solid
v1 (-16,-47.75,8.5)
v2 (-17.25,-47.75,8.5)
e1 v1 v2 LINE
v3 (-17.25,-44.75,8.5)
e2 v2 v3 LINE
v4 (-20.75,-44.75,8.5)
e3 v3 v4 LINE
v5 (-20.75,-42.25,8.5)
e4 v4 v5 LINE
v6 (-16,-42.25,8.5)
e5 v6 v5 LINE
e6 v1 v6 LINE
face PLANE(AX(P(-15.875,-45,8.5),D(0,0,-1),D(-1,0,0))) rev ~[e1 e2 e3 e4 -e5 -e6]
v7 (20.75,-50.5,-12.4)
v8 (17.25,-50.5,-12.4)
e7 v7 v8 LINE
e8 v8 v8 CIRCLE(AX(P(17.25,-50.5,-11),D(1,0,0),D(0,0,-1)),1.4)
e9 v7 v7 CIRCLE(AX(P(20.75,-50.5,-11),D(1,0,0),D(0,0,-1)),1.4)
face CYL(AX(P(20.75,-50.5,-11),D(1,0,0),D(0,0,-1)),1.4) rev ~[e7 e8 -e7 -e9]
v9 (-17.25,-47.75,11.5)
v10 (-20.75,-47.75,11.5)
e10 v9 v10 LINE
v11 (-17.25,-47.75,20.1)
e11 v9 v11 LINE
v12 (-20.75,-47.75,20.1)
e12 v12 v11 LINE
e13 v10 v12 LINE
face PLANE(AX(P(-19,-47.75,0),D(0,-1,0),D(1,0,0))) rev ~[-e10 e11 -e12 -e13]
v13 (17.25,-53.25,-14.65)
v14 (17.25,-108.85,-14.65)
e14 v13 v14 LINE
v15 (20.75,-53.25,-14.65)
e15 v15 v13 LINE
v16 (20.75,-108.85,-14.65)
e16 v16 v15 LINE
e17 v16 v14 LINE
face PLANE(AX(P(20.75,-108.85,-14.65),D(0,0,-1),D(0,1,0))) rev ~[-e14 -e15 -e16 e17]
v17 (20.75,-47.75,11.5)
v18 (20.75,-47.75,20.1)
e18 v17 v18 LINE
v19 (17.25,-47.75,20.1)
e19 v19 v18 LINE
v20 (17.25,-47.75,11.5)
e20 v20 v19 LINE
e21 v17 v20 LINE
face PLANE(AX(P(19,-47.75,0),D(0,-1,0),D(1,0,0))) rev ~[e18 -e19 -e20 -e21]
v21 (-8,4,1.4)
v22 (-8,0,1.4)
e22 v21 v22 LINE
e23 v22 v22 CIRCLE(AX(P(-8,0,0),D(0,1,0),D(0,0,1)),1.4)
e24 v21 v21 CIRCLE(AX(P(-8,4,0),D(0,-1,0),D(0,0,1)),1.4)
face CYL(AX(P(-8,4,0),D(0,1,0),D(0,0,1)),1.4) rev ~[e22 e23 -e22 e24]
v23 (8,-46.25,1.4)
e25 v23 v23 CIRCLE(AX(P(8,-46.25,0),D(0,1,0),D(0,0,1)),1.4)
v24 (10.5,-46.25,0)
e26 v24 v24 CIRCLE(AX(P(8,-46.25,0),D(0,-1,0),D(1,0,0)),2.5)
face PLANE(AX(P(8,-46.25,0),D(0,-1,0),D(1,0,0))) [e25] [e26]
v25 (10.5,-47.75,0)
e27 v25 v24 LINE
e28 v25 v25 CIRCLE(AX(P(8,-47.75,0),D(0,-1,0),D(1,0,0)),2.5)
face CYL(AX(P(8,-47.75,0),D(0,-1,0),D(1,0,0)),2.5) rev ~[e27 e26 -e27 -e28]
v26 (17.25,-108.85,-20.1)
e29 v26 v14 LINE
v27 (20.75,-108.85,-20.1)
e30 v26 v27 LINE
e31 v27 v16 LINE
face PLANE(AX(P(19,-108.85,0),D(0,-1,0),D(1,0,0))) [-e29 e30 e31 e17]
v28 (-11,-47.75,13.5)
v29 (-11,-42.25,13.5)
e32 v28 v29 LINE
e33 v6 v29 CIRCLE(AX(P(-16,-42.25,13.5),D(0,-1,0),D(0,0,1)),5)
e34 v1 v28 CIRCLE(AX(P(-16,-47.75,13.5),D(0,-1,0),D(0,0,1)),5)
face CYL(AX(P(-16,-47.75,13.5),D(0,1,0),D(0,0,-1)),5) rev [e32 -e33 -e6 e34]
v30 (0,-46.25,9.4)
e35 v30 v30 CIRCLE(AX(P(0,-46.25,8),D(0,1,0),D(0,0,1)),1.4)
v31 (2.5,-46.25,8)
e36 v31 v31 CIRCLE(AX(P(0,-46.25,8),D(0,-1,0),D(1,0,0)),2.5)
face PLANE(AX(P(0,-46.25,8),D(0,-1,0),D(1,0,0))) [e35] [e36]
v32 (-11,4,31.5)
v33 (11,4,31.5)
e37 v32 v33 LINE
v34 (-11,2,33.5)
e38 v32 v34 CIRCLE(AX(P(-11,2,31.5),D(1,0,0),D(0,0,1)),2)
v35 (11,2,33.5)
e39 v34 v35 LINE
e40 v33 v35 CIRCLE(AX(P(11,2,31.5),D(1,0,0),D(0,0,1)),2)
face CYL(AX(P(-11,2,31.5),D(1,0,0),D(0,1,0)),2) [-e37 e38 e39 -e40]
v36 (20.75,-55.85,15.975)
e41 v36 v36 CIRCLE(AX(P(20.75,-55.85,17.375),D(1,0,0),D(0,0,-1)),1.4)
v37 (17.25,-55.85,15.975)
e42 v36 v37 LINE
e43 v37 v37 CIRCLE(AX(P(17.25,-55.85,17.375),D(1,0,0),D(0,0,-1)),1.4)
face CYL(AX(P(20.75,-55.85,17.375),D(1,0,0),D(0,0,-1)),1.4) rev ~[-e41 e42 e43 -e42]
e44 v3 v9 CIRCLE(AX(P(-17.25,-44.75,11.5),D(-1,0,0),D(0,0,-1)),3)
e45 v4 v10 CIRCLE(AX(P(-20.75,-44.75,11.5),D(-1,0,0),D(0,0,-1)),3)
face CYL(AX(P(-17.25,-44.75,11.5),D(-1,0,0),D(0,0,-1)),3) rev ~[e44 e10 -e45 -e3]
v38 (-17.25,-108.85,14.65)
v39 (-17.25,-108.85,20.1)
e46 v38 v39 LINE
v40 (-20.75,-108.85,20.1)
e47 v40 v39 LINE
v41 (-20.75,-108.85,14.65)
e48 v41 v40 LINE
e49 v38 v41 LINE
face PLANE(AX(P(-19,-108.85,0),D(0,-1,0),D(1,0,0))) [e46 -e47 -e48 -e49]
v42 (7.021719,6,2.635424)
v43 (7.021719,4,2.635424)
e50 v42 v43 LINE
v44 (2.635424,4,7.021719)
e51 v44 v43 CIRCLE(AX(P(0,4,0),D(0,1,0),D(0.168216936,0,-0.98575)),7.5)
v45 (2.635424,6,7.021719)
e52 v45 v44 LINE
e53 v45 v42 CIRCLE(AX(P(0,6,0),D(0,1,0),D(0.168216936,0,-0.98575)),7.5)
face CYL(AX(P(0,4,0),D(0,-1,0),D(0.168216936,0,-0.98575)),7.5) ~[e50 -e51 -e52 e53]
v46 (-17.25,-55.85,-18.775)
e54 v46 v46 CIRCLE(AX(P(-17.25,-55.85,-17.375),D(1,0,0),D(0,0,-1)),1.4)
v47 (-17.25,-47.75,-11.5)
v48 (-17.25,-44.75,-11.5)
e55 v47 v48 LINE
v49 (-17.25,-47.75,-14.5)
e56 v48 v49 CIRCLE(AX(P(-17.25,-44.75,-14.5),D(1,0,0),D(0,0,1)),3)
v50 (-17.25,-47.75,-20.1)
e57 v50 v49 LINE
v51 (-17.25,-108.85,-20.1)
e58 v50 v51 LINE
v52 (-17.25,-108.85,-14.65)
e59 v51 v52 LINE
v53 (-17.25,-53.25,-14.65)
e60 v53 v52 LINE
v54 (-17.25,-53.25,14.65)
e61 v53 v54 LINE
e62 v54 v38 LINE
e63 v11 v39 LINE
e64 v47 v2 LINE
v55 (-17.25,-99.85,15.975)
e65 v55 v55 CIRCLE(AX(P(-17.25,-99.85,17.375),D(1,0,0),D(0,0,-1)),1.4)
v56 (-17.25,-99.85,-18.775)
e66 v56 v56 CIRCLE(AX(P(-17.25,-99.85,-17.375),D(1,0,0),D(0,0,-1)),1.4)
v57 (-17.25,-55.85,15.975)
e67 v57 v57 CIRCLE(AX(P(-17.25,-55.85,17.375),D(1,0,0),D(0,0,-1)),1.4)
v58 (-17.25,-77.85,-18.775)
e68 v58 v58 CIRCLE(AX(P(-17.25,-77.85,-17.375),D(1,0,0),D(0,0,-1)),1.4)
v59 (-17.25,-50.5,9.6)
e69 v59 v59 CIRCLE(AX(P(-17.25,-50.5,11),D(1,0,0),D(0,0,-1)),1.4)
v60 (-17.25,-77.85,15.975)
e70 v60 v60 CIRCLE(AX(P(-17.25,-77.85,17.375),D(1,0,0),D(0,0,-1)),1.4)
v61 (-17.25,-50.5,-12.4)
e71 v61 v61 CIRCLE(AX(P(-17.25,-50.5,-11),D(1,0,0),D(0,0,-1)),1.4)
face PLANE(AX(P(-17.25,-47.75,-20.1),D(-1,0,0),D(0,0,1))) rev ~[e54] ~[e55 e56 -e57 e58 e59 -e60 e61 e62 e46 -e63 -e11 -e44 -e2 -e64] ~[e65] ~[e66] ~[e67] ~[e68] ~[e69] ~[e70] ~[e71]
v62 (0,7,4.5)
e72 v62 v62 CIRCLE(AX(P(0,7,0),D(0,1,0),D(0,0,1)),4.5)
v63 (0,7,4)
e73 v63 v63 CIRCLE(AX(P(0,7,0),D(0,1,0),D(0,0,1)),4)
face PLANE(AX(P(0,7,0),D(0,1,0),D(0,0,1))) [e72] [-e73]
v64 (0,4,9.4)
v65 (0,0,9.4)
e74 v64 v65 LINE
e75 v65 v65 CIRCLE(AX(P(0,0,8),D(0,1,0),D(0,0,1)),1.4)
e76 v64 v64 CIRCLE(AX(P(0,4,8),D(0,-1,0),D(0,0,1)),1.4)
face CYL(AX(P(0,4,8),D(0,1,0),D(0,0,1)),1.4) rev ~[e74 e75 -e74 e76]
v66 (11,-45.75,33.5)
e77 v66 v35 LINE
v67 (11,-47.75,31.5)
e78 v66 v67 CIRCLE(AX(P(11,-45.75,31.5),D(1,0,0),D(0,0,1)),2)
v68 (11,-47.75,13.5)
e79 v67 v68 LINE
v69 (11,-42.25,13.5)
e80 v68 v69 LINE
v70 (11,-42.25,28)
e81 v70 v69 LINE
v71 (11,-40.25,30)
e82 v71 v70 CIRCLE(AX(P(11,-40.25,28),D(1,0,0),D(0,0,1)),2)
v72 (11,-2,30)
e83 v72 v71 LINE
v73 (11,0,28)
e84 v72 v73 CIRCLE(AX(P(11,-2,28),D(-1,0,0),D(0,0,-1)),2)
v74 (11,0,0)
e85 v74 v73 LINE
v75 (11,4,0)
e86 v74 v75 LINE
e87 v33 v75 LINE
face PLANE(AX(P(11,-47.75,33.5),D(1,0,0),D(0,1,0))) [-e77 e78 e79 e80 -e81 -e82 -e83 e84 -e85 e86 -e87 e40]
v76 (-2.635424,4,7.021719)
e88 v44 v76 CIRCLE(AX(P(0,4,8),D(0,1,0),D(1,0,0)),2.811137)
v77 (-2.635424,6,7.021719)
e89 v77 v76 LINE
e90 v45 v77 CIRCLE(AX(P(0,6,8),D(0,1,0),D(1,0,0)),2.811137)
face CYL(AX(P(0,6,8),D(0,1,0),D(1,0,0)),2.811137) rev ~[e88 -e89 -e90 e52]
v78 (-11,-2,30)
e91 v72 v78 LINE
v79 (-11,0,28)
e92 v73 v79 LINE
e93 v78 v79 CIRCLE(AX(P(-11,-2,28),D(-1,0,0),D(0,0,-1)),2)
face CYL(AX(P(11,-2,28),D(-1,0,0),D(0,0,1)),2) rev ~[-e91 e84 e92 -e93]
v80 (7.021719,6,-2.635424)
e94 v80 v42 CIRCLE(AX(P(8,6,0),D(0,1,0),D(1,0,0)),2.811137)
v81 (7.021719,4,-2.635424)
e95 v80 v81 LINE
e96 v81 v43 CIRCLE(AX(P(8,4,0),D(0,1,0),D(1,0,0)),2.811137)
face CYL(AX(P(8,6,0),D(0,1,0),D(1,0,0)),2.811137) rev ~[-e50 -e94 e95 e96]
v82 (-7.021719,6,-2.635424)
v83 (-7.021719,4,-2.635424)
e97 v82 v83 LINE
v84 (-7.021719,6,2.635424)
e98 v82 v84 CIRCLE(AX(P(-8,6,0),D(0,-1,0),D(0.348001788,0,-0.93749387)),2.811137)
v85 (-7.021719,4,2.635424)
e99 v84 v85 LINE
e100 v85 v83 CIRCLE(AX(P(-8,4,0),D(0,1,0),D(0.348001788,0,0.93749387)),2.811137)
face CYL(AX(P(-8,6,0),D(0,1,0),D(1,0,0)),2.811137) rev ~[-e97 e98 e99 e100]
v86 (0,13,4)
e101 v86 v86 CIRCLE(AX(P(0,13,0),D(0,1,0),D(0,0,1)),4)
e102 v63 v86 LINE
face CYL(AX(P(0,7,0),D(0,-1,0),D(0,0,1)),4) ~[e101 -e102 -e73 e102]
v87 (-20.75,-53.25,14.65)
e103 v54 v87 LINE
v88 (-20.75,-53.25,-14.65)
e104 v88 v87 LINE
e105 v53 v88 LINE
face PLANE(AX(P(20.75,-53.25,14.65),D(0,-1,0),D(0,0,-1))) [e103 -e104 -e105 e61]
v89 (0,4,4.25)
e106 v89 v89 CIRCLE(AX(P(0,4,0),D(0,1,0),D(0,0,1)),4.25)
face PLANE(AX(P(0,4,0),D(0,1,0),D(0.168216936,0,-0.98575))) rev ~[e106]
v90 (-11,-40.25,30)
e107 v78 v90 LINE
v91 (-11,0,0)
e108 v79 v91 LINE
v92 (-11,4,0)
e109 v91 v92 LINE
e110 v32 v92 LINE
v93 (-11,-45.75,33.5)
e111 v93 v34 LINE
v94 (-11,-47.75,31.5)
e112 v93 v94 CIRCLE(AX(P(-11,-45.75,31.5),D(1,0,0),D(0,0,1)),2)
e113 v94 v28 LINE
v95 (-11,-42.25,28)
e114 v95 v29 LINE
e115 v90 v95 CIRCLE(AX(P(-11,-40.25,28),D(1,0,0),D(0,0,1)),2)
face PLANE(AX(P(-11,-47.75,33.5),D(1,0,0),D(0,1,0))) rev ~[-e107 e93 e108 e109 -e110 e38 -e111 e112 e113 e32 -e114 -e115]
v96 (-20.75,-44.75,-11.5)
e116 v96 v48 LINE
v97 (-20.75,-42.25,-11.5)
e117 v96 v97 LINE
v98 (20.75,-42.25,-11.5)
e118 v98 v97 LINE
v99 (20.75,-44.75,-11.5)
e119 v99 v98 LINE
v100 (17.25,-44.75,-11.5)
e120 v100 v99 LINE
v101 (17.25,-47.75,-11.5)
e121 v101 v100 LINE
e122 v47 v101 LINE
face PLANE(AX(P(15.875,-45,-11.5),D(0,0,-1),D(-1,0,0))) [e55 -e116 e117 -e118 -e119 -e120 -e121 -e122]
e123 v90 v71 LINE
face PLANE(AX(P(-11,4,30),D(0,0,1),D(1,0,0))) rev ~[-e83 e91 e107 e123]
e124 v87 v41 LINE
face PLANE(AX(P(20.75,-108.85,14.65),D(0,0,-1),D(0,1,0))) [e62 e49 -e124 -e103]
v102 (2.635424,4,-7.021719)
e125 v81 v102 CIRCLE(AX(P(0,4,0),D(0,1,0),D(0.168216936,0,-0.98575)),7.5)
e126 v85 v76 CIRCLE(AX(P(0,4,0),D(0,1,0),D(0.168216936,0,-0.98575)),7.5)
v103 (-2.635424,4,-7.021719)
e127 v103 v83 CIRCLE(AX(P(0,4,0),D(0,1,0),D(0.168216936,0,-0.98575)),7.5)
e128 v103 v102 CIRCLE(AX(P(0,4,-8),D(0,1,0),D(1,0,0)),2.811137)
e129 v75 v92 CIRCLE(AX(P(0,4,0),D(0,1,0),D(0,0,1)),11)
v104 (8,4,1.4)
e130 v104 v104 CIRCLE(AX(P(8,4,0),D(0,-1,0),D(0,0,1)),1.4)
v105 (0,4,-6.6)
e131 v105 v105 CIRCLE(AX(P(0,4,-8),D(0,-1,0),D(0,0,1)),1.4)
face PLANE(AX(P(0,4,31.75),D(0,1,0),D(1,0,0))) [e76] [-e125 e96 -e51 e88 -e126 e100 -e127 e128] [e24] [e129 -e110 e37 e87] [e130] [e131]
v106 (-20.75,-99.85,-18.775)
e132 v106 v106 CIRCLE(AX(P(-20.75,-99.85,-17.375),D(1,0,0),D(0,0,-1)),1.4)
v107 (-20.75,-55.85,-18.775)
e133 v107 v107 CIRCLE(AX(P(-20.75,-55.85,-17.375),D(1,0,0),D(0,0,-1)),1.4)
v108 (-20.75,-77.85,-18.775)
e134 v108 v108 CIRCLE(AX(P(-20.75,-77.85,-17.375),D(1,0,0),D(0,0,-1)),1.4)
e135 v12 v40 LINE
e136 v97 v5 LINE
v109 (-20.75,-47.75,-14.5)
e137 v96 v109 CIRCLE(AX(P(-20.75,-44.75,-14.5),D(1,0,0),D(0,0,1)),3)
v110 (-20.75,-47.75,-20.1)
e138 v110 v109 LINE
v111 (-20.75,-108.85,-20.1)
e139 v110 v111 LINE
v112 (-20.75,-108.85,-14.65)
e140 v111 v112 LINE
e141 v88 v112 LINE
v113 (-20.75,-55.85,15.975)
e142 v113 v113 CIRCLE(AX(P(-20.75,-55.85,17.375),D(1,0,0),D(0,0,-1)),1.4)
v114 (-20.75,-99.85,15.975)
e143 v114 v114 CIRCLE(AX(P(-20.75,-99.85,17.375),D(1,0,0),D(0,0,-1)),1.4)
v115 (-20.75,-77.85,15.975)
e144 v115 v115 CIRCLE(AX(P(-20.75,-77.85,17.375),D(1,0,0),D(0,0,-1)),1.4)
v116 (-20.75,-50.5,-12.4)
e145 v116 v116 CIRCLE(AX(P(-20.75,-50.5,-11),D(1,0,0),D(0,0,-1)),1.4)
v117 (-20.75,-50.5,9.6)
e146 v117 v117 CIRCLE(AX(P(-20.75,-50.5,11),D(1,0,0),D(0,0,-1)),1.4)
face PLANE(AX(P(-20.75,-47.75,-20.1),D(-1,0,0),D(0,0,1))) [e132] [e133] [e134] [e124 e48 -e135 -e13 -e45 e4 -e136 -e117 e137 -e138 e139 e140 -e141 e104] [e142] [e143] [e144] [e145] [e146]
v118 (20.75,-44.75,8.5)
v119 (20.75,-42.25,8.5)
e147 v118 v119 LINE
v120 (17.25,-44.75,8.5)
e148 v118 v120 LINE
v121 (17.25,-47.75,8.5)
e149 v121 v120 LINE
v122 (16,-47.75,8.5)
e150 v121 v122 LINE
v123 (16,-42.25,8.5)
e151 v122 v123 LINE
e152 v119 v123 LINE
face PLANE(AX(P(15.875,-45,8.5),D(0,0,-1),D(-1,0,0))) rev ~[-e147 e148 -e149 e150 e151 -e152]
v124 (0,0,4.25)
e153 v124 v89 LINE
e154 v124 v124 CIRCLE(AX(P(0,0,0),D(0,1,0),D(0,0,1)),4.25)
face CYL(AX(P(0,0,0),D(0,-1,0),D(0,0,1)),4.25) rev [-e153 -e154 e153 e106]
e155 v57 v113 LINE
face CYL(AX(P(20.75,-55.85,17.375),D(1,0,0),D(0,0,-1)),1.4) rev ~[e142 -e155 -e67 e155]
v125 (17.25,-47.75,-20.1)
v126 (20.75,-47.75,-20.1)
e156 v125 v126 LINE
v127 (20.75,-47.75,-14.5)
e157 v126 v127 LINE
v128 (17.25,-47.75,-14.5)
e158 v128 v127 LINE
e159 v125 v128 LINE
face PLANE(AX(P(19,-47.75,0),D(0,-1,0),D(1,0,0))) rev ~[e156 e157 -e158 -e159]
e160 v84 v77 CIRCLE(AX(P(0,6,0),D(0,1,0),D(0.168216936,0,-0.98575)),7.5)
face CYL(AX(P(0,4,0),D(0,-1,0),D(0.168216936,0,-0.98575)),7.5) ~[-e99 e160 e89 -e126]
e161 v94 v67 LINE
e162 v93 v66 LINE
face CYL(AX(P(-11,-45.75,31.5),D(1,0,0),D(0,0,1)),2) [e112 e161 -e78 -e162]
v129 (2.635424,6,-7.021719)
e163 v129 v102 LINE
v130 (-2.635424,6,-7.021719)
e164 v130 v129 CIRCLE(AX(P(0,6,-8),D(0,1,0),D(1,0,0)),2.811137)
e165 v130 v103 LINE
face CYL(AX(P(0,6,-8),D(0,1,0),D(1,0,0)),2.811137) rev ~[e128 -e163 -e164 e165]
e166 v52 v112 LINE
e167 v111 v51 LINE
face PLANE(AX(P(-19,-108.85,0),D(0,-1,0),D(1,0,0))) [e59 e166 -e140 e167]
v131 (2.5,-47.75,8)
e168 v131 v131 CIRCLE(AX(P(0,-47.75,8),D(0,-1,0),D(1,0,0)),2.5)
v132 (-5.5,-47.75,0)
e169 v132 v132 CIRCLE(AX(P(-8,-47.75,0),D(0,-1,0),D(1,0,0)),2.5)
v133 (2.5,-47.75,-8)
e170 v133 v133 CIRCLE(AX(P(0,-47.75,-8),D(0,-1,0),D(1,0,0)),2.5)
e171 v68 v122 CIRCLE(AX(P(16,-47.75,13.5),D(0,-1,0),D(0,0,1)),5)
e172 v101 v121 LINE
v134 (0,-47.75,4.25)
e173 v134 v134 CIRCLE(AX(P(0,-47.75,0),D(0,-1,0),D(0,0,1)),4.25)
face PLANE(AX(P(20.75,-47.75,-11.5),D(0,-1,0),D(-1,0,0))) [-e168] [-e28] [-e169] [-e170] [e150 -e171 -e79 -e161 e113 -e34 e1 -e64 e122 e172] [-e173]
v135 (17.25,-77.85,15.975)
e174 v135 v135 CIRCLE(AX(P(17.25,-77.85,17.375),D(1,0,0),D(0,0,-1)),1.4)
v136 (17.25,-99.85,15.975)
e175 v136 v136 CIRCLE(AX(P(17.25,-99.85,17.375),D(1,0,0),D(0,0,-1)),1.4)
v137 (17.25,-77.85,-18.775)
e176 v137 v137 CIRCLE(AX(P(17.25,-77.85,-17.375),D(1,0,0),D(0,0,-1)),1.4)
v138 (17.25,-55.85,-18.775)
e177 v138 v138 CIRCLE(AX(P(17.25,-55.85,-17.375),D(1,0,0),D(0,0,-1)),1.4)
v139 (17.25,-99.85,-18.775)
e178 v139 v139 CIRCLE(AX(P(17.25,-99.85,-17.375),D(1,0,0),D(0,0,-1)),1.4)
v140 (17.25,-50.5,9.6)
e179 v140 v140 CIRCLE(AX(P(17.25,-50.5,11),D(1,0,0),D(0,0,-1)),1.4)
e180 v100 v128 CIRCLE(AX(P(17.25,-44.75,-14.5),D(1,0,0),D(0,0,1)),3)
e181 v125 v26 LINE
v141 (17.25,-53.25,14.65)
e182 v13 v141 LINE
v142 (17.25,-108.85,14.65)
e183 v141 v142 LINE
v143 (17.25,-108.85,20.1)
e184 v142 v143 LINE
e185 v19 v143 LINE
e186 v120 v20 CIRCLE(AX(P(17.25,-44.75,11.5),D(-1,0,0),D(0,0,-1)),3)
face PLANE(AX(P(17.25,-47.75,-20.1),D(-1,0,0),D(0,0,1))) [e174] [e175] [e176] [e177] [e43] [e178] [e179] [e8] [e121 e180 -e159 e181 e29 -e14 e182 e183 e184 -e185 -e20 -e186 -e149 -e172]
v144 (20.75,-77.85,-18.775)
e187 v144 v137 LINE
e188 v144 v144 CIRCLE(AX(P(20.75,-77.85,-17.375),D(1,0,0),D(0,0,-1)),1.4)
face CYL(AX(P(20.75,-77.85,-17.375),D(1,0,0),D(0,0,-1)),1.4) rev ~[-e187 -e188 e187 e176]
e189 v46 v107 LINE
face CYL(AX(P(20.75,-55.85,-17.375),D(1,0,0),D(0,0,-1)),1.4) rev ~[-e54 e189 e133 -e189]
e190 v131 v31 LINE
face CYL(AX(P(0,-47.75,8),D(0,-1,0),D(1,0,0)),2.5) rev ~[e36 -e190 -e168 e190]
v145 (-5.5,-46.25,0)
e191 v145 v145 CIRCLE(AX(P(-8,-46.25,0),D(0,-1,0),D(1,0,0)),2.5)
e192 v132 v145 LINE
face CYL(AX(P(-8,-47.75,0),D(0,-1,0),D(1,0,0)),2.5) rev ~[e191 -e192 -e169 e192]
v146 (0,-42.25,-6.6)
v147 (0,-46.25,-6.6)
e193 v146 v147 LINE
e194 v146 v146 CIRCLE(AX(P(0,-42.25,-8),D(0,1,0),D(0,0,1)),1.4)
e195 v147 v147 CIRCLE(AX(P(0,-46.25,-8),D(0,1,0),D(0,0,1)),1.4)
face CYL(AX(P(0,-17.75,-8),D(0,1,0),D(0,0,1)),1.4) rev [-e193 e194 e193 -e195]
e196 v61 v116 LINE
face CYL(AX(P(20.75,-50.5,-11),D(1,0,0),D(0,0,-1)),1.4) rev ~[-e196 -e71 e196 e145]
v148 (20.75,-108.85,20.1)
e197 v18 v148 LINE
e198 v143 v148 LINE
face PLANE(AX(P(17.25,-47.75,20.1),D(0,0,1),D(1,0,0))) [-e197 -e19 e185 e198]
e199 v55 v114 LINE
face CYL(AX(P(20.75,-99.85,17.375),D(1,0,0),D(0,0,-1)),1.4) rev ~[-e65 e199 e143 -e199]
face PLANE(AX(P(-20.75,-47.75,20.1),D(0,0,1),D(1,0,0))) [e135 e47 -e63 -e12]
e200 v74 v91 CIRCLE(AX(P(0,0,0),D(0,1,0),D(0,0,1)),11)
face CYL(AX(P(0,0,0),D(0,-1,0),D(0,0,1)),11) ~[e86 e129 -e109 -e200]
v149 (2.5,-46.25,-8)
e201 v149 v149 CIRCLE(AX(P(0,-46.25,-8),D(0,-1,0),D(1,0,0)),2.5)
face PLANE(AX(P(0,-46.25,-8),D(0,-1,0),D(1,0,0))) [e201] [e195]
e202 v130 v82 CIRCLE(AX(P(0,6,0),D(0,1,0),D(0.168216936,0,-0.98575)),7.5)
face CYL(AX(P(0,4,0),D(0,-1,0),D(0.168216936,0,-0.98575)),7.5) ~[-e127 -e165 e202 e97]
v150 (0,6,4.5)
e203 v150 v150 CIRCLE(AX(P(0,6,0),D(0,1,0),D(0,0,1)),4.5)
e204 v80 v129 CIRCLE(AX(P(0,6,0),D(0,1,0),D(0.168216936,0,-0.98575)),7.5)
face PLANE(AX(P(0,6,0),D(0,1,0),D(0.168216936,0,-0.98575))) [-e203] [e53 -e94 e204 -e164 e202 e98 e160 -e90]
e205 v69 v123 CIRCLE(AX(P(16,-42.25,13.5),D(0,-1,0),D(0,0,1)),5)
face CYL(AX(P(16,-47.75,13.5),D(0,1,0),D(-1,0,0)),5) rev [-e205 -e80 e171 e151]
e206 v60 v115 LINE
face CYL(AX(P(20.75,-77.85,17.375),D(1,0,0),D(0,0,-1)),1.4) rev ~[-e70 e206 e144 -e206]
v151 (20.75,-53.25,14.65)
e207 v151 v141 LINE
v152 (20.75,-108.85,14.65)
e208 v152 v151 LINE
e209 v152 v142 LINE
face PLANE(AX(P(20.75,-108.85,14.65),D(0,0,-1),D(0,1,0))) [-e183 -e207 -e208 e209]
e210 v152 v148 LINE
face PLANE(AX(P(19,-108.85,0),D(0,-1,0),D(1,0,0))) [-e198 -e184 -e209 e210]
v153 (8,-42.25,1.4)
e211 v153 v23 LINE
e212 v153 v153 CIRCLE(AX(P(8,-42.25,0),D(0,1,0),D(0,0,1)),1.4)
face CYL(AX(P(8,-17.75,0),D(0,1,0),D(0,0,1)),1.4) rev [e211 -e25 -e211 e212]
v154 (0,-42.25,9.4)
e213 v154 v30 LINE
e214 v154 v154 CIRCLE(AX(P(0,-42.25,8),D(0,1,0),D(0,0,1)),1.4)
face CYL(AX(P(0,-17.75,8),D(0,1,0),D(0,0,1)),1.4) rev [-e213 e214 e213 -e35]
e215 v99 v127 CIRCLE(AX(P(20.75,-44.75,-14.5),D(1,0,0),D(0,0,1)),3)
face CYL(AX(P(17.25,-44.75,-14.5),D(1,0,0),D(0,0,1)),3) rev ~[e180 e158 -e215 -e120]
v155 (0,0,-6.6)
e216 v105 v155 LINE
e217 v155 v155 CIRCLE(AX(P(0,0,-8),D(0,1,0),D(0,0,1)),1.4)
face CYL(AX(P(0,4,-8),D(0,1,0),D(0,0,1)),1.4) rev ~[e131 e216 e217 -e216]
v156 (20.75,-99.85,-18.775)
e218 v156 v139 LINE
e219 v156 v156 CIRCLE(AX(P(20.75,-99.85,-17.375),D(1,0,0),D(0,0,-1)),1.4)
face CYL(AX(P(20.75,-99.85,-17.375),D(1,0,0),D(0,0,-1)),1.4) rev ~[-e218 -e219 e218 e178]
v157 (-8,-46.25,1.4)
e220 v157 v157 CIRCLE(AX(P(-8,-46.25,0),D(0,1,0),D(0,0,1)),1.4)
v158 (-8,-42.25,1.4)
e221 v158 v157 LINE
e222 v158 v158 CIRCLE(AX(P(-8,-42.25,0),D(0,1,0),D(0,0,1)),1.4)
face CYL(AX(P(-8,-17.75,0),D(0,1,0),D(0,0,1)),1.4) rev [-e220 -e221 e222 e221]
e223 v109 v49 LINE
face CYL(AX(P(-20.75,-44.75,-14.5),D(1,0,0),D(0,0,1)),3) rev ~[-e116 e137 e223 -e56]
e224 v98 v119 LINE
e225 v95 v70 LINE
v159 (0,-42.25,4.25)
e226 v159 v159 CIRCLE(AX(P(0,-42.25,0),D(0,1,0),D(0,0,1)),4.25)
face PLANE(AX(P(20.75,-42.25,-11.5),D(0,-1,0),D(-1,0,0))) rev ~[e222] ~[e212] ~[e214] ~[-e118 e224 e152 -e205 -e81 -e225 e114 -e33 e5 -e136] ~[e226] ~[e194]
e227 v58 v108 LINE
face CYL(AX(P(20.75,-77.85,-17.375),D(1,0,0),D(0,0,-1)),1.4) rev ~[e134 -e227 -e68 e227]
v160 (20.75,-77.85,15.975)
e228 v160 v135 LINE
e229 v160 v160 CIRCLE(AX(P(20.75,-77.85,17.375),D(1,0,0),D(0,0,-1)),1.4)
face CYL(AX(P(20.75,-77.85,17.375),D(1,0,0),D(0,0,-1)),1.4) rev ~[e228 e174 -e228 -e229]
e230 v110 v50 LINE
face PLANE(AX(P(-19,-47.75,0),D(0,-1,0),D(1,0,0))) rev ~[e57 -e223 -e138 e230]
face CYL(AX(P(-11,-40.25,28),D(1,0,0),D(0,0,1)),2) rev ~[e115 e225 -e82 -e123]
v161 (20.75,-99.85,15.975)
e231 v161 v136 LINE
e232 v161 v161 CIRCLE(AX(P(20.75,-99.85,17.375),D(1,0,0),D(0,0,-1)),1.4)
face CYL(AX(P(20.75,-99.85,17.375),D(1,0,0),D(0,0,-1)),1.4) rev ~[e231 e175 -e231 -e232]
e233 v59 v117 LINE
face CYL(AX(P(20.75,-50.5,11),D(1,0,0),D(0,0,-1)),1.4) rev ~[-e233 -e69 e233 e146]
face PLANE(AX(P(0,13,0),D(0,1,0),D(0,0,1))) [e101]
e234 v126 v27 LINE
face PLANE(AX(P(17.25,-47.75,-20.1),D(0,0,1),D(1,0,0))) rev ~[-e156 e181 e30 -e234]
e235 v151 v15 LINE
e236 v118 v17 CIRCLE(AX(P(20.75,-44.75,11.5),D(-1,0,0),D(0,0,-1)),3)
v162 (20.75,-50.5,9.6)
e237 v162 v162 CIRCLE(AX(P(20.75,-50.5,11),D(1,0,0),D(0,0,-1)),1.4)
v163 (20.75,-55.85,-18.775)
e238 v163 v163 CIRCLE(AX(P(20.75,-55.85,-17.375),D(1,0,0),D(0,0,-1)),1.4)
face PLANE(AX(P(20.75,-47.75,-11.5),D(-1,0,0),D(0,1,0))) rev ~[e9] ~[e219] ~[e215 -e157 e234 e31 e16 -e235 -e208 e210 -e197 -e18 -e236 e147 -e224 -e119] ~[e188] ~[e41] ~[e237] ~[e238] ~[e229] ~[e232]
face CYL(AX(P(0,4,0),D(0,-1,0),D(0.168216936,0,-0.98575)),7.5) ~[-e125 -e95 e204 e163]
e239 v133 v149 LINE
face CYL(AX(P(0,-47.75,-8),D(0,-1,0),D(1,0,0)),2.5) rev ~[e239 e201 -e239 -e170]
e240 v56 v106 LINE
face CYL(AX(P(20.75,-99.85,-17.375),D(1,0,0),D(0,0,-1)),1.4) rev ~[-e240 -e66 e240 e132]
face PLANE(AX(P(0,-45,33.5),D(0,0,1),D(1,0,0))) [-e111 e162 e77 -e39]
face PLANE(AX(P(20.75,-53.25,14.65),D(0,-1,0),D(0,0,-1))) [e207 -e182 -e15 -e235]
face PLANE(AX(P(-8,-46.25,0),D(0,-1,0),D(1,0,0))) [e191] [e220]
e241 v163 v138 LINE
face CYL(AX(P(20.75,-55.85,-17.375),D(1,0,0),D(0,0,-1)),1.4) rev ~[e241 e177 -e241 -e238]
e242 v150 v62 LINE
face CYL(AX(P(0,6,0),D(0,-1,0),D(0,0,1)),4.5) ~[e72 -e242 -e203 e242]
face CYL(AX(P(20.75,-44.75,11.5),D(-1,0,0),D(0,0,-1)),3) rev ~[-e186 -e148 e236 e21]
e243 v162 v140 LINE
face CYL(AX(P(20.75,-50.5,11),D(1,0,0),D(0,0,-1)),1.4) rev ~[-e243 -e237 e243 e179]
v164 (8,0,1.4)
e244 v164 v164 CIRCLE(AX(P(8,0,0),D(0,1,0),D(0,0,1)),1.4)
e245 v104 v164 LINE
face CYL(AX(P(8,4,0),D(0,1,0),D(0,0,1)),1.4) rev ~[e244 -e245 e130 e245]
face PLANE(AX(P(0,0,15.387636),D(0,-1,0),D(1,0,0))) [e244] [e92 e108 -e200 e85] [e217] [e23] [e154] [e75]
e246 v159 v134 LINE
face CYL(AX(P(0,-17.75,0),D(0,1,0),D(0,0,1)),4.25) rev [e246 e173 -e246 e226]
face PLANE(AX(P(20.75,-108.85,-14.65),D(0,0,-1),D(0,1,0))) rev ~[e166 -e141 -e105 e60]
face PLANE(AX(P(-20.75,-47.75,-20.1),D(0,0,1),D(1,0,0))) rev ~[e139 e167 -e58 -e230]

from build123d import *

# Parameters (mm, degrees)
SKETCH1_R           = 11
SKETCH1_R_2         = 4.25
BOSS_EXTRUDE1_DEPTH = 4
SKETCH2_R           = 1.4
CUT_EXTRUDE1_DEPTH  = 17.062378404
SKETCH3_R           = 7.5
BOSS_EXTRUDE2_DEPTH = 2
SKETCH4_R           = 2.811136831
CUT_EXTRUDE2_DEPTH  = 2
SKETCH5_R           = 4.5
BOSS_EXTRUDE3_DEPTH = 7
CUT_EXTRUDE3_START  = -6
SKETCH6_R           = 4.5
SKETCH6_R_2         = 4
CUT_EXTRUDE3_DEPTH  = 6
BOSS_EXTRUDE4_DEPTH = 4
SKETCH13_W          = 22
SKETCH13_H          = 3.5
BOSS_EXTRUDE5_DEPTH = 46.25
SKETCH14_W          = 22
SKETCH14_H          = 5.5
BOSS_EXTRUDE6_DEPTH = 45
CUT_EXTRUDE6_START  = -30
SKETCH16_R          = 4.25
SKETCH16_R_2        = 1.4
CUT_EXTRUDE6_DEPTH  = 30
SKETCH17_W          = 9.75
SKETCH17_H          = 5.5
BOSS_EXTRUDE7_DEPTH = 20
FILLET3_R           = 2
SKETCH19_R          = 2.5
CUT_EXTRUDE8_DEPTH  = 1.5
SKETCH21_W          = 3.5
SKETCH21_H          = 40.2
BOSS_EXTRUDE8_DEPTH = 61.1
SKETCH22_R          = 1.4
SKETCH22_W          = 29.3
SKETCH22_H          = 55.6
CUT_EXTRUDE10_DEPTH = 61.1
FILLET4_R           = 5
FILLET5_R           = 3


with BuildPart() as part:
    # Sketch1 → Boss-Extrude1 (new body)
    with BuildSketch(Plane(origin=(0, 0, 0), x_dir=(1, 0, 0), z_dir=(0, 1, 0))):
        with Locations(Location((0, 0, 0), (0, 0, 270))):
            Circle(SKETCH1_R)
        with Locations(Location((0, 0, 0), (0, 0, 270))):
            Circle(SKETCH1_R_2, mode=Mode.SUBTRACT)
    extrude(amount=BOSS_EXTRUDE1_DEPTH)

    # Sketch2 → Cut-Extrude1 (cut, through all)
    with BuildSketch(Plane(origin=(0, 4, 0), x_dir=(1, 0, 0), z_dir=(0, 1, 0))):
        with Locations(Location((0, 8, 0), (0, 0, 270))):
            Circle(SKETCH2_R)
        with Locations(Location((8, 0, 0), (0, 0, 270))):
            Circle(SKETCH2_R)
        with Locations(Location((0, -8, 0), (0, 0, 270))):
            Circle(SKETCH2_R)
        with Locations(Location((-8, 0, 0), (0, 0, 270))):
            Circle(SKETCH2_R)
    extrude(amount=-CUT_EXTRUDE1_DEPTH, mode=Mode.SUBTRACT)

    # Sketch3 → Boss-Extrude2 (add)
    with BuildSketch(Plane(origin=(0, 4, 0), x_dir=(1, 0, 0), z_dir=(0, 1, 0))):
        with Locations(Location((0, 0, 0), (0, 0, 80.315835906))):
            Circle(SKETCH3_R)
    extrude(amount=BOSS_EXTRUDE2_DEPTH)

    # Sketch4 → Cut-Extrude2 (cut)
    with BuildSketch(Plane(origin=(0, 6, 0), x_dir=(1, 0, 0), z_dir=(0, 1, 0))):
        with Locations((8, 0)):
            Circle(SKETCH4_R)
        with Locations((0, -8)):
            Circle(SKETCH4_R)
        with Locations((-8, 0)):
            Circle(SKETCH4_R)
        with Locations((0, 8)):
            Circle(SKETCH4_R)
    extrude(amount=-CUT_EXTRUDE2_DEPTH, mode=Mode.SUBTRACT)

    # Sketch5 → Boss-Extrude3 (add)
    with BuildSketch(Plane(origin=(0, 6, 0), x_dir=(1, 0, 0), z_dir=(0, 1, 0))):
        with Locations(Location((0, 0, 0), (0, 0, 270))):
            Circle(SKETCH5_R)
    extrude(amount=BOSS_EXTRUDE3_DEPTH)

    # Sketch6 → Cut-Extrude3 (cut)
    with BuildSketch(Plane(origin=(0, 13, 0), x_dir=(1, 0, 0), z_dir=(0, 1, 0)).offset(CUT_EXTRUDE3_START)):
        with Locations(Location((0, 0, 0), (0, 0, 270))):
            Circle(SKETCH6_R)
        with Locations(Location((0, 0, 0), (0, 0, 270))):
            Circle(SKETCH6_R_2, mode=Mode.SUBTRACT)
    extrude(amount=CUT_EXTRUDE3_DEPTH, mode=Mode.SUBTRACT)

    # Sketch8 → Boss-Extrude4 (add)
    with BuildSketch(Plane.XZ):
        with BuildLine():
            Line((11, 30), (-11, 30))
            Line((-11, 30), (-11, 0))
            ThreePointArc((-11, 0), (0, 11), (11, 0))
            Line((11, 0), (11, 30))
        make_face()
    extrude(amount=-BOSS_EXTRUDE4_DEPTH)

    # Sketch13 → Boss-Extrude5 (add)
    with BuildSketch(Plane(origin=(0, 4, 0), x_dir=(1, 0, 0), z_dir=(0, 1, 0))):
        with Locations((0, -31.75)):
            Rectangle(SKETCH13_W, SKETCH13_H)
    extrude(amount=-BOSS_EXTRUDE5_DEPTH)

    # Sketch14 → Boss-Extrude6 (add)
    with BuildSketch(Plane.XY.offset(33.5)):
        with Locations((0, -45)):
            Rectangle(SKETCH14_W, SKETCH14_H)
    extrude(amount=-BOSS_EXTRUDE6_DEPTH)

    # Sketch16 → Cut-Extrude6 (cut)
    with BuildSketch(Plane.XZ.offset(47.75).offset(CUT_EXTRUDE6_START)):
        with Locations(Location((0, 0, 0), (0, 0, 90))):
            Circle(SKETCH16_R)
        with Locations(Location((-8, 0, 0), (0, 0, 90))):
            Circle(SKETCH16_R_2)
        with Locations(Location((0, -8, 0), (0, 0, 90))):
            Circle(SKETCH16_R_2)
        with Locations(Location((8, 0, 0), (0, 0, 90))):
            Circle(SKETCH16_R_2)
        with Locations(Location((0, 8, 0), (0, 0, 90))):
            Circle(SKETCH16_R_2)
    extrude(amount=CUT_EXTRUDE6_DEPTH, mode=Mode.SUBTRACT)

    # Sketch17 → Boss-Extrude7 (add)
    with BuildSketch(Plane(origin=(0, 0, -11.5), x_dir=(-1, 0, 0), z_dir=(0, 0, -1))):
        with Locations((-15.875, -45)):
            Rectangle(SKETCH17_W, SKETCH17_H)
        with Locations((15.875, -45)):
            Rectangle(SKETCH17_W, SKETCH17_H)
    extrude(amount=-BOSS_EXTRUDE7_DEPTH)

    # Fillet3
    fillet3_edges = [part.edges().sort_by_distance(p)[0] for p in [
        (0, 0, 30),
        (0, -42.25, 30),
        (0, 4, 33.5),
        (0, -47.75, 33.5),
    ]]
    fillet(fillet3_edges, radius=FILLET3_R)

    # Sketch19 → Cut-Extrude8 (cut)
    with BuildSketch(Plane.XZ.offset(47.75)):
        with Locations((-8, 0)):
            Circle(SKETCH19_R)
        with Locations((0, 8)):
            Circle(SKETCH19_R)
        with Locations((8, 0)):
            Circle(SKETCH19_R)
        with Locations((0, -8)):
            Circle(SKETCH19_R)
    extrude(amount=-CUT_EXTRUDE8_DEPTH, mode=Mode.SUBTRACT)

    # Sketch21 → Boss-Extrude8 (add)
    with BuildSketch(Plane.XZ.offset(47.75)):
        with Locations((-19, 0)):
            Rectangle(SKETCH21_W, SKETCH21_H)
        with Locations((19, 0)):
            Rectangle(SKETCH21_W, SKETCH21_H)
    extrude(amount=BOSS_EXTRUDE8_DEPTH)

    # Sketch22 → Cut-Extrude10 (cut)
    with BuildSketch(Plane(origin=(20.75, 0, 0), x_dir=(0, 0, -1), z_dir=(1, 0, 0))):
        with Locations((-11, -50.5)):
            Circle(SKETCH22_R)
        with Locations((11, -50.5)):
            Circle(SKETCH22_R)
        with Locations((-17.375, -99.85)):
            Circle(SKETCH22_R)
        with Locations((-17.375, -77.85)):
            Circle(SKETCH22_R)
        with Locations((-17.375, -55.85)):
            Circle(SKETCH22_R)
        with Locations((17.375, -99.85)):
            Circle(SKETCH22_R)
        with Locations((17.375, -77.85)):
            Circle(SKETCH22_R)
        with Locations((17.375, -55.85)):
            Circle(SKETCH22_R)
        with Locations((0, -81.05)):
            Rectangle(SKETCH22_W, SKETCH22_H)
    extrude(amount=-CUT_EXTRUDE10_DEPTH, mode=Mode.SUBTRACT)

    # Fillet4
    fillet4_edges = [part.edges().sort_by_distance(p)[0] for p in [
        (11, -45, 8.5),
        (-11, -45, 8.5),
    ]]
    fillet(fillet4_edges, radius=FILLET4_R)

    # Fillet5
    fillet5_edges = [part.edges().sort_by_distance(p)[0] for p in [
        (-19, -47.75, -11.5),
        (19, -47.75, 8.5),
        (-19, -47.75, 8.5),
        (19, -47.75, -11.5),
    ]]
    fillet(fillet5_edges, radius=FILLET5_R)


solid = part.part
